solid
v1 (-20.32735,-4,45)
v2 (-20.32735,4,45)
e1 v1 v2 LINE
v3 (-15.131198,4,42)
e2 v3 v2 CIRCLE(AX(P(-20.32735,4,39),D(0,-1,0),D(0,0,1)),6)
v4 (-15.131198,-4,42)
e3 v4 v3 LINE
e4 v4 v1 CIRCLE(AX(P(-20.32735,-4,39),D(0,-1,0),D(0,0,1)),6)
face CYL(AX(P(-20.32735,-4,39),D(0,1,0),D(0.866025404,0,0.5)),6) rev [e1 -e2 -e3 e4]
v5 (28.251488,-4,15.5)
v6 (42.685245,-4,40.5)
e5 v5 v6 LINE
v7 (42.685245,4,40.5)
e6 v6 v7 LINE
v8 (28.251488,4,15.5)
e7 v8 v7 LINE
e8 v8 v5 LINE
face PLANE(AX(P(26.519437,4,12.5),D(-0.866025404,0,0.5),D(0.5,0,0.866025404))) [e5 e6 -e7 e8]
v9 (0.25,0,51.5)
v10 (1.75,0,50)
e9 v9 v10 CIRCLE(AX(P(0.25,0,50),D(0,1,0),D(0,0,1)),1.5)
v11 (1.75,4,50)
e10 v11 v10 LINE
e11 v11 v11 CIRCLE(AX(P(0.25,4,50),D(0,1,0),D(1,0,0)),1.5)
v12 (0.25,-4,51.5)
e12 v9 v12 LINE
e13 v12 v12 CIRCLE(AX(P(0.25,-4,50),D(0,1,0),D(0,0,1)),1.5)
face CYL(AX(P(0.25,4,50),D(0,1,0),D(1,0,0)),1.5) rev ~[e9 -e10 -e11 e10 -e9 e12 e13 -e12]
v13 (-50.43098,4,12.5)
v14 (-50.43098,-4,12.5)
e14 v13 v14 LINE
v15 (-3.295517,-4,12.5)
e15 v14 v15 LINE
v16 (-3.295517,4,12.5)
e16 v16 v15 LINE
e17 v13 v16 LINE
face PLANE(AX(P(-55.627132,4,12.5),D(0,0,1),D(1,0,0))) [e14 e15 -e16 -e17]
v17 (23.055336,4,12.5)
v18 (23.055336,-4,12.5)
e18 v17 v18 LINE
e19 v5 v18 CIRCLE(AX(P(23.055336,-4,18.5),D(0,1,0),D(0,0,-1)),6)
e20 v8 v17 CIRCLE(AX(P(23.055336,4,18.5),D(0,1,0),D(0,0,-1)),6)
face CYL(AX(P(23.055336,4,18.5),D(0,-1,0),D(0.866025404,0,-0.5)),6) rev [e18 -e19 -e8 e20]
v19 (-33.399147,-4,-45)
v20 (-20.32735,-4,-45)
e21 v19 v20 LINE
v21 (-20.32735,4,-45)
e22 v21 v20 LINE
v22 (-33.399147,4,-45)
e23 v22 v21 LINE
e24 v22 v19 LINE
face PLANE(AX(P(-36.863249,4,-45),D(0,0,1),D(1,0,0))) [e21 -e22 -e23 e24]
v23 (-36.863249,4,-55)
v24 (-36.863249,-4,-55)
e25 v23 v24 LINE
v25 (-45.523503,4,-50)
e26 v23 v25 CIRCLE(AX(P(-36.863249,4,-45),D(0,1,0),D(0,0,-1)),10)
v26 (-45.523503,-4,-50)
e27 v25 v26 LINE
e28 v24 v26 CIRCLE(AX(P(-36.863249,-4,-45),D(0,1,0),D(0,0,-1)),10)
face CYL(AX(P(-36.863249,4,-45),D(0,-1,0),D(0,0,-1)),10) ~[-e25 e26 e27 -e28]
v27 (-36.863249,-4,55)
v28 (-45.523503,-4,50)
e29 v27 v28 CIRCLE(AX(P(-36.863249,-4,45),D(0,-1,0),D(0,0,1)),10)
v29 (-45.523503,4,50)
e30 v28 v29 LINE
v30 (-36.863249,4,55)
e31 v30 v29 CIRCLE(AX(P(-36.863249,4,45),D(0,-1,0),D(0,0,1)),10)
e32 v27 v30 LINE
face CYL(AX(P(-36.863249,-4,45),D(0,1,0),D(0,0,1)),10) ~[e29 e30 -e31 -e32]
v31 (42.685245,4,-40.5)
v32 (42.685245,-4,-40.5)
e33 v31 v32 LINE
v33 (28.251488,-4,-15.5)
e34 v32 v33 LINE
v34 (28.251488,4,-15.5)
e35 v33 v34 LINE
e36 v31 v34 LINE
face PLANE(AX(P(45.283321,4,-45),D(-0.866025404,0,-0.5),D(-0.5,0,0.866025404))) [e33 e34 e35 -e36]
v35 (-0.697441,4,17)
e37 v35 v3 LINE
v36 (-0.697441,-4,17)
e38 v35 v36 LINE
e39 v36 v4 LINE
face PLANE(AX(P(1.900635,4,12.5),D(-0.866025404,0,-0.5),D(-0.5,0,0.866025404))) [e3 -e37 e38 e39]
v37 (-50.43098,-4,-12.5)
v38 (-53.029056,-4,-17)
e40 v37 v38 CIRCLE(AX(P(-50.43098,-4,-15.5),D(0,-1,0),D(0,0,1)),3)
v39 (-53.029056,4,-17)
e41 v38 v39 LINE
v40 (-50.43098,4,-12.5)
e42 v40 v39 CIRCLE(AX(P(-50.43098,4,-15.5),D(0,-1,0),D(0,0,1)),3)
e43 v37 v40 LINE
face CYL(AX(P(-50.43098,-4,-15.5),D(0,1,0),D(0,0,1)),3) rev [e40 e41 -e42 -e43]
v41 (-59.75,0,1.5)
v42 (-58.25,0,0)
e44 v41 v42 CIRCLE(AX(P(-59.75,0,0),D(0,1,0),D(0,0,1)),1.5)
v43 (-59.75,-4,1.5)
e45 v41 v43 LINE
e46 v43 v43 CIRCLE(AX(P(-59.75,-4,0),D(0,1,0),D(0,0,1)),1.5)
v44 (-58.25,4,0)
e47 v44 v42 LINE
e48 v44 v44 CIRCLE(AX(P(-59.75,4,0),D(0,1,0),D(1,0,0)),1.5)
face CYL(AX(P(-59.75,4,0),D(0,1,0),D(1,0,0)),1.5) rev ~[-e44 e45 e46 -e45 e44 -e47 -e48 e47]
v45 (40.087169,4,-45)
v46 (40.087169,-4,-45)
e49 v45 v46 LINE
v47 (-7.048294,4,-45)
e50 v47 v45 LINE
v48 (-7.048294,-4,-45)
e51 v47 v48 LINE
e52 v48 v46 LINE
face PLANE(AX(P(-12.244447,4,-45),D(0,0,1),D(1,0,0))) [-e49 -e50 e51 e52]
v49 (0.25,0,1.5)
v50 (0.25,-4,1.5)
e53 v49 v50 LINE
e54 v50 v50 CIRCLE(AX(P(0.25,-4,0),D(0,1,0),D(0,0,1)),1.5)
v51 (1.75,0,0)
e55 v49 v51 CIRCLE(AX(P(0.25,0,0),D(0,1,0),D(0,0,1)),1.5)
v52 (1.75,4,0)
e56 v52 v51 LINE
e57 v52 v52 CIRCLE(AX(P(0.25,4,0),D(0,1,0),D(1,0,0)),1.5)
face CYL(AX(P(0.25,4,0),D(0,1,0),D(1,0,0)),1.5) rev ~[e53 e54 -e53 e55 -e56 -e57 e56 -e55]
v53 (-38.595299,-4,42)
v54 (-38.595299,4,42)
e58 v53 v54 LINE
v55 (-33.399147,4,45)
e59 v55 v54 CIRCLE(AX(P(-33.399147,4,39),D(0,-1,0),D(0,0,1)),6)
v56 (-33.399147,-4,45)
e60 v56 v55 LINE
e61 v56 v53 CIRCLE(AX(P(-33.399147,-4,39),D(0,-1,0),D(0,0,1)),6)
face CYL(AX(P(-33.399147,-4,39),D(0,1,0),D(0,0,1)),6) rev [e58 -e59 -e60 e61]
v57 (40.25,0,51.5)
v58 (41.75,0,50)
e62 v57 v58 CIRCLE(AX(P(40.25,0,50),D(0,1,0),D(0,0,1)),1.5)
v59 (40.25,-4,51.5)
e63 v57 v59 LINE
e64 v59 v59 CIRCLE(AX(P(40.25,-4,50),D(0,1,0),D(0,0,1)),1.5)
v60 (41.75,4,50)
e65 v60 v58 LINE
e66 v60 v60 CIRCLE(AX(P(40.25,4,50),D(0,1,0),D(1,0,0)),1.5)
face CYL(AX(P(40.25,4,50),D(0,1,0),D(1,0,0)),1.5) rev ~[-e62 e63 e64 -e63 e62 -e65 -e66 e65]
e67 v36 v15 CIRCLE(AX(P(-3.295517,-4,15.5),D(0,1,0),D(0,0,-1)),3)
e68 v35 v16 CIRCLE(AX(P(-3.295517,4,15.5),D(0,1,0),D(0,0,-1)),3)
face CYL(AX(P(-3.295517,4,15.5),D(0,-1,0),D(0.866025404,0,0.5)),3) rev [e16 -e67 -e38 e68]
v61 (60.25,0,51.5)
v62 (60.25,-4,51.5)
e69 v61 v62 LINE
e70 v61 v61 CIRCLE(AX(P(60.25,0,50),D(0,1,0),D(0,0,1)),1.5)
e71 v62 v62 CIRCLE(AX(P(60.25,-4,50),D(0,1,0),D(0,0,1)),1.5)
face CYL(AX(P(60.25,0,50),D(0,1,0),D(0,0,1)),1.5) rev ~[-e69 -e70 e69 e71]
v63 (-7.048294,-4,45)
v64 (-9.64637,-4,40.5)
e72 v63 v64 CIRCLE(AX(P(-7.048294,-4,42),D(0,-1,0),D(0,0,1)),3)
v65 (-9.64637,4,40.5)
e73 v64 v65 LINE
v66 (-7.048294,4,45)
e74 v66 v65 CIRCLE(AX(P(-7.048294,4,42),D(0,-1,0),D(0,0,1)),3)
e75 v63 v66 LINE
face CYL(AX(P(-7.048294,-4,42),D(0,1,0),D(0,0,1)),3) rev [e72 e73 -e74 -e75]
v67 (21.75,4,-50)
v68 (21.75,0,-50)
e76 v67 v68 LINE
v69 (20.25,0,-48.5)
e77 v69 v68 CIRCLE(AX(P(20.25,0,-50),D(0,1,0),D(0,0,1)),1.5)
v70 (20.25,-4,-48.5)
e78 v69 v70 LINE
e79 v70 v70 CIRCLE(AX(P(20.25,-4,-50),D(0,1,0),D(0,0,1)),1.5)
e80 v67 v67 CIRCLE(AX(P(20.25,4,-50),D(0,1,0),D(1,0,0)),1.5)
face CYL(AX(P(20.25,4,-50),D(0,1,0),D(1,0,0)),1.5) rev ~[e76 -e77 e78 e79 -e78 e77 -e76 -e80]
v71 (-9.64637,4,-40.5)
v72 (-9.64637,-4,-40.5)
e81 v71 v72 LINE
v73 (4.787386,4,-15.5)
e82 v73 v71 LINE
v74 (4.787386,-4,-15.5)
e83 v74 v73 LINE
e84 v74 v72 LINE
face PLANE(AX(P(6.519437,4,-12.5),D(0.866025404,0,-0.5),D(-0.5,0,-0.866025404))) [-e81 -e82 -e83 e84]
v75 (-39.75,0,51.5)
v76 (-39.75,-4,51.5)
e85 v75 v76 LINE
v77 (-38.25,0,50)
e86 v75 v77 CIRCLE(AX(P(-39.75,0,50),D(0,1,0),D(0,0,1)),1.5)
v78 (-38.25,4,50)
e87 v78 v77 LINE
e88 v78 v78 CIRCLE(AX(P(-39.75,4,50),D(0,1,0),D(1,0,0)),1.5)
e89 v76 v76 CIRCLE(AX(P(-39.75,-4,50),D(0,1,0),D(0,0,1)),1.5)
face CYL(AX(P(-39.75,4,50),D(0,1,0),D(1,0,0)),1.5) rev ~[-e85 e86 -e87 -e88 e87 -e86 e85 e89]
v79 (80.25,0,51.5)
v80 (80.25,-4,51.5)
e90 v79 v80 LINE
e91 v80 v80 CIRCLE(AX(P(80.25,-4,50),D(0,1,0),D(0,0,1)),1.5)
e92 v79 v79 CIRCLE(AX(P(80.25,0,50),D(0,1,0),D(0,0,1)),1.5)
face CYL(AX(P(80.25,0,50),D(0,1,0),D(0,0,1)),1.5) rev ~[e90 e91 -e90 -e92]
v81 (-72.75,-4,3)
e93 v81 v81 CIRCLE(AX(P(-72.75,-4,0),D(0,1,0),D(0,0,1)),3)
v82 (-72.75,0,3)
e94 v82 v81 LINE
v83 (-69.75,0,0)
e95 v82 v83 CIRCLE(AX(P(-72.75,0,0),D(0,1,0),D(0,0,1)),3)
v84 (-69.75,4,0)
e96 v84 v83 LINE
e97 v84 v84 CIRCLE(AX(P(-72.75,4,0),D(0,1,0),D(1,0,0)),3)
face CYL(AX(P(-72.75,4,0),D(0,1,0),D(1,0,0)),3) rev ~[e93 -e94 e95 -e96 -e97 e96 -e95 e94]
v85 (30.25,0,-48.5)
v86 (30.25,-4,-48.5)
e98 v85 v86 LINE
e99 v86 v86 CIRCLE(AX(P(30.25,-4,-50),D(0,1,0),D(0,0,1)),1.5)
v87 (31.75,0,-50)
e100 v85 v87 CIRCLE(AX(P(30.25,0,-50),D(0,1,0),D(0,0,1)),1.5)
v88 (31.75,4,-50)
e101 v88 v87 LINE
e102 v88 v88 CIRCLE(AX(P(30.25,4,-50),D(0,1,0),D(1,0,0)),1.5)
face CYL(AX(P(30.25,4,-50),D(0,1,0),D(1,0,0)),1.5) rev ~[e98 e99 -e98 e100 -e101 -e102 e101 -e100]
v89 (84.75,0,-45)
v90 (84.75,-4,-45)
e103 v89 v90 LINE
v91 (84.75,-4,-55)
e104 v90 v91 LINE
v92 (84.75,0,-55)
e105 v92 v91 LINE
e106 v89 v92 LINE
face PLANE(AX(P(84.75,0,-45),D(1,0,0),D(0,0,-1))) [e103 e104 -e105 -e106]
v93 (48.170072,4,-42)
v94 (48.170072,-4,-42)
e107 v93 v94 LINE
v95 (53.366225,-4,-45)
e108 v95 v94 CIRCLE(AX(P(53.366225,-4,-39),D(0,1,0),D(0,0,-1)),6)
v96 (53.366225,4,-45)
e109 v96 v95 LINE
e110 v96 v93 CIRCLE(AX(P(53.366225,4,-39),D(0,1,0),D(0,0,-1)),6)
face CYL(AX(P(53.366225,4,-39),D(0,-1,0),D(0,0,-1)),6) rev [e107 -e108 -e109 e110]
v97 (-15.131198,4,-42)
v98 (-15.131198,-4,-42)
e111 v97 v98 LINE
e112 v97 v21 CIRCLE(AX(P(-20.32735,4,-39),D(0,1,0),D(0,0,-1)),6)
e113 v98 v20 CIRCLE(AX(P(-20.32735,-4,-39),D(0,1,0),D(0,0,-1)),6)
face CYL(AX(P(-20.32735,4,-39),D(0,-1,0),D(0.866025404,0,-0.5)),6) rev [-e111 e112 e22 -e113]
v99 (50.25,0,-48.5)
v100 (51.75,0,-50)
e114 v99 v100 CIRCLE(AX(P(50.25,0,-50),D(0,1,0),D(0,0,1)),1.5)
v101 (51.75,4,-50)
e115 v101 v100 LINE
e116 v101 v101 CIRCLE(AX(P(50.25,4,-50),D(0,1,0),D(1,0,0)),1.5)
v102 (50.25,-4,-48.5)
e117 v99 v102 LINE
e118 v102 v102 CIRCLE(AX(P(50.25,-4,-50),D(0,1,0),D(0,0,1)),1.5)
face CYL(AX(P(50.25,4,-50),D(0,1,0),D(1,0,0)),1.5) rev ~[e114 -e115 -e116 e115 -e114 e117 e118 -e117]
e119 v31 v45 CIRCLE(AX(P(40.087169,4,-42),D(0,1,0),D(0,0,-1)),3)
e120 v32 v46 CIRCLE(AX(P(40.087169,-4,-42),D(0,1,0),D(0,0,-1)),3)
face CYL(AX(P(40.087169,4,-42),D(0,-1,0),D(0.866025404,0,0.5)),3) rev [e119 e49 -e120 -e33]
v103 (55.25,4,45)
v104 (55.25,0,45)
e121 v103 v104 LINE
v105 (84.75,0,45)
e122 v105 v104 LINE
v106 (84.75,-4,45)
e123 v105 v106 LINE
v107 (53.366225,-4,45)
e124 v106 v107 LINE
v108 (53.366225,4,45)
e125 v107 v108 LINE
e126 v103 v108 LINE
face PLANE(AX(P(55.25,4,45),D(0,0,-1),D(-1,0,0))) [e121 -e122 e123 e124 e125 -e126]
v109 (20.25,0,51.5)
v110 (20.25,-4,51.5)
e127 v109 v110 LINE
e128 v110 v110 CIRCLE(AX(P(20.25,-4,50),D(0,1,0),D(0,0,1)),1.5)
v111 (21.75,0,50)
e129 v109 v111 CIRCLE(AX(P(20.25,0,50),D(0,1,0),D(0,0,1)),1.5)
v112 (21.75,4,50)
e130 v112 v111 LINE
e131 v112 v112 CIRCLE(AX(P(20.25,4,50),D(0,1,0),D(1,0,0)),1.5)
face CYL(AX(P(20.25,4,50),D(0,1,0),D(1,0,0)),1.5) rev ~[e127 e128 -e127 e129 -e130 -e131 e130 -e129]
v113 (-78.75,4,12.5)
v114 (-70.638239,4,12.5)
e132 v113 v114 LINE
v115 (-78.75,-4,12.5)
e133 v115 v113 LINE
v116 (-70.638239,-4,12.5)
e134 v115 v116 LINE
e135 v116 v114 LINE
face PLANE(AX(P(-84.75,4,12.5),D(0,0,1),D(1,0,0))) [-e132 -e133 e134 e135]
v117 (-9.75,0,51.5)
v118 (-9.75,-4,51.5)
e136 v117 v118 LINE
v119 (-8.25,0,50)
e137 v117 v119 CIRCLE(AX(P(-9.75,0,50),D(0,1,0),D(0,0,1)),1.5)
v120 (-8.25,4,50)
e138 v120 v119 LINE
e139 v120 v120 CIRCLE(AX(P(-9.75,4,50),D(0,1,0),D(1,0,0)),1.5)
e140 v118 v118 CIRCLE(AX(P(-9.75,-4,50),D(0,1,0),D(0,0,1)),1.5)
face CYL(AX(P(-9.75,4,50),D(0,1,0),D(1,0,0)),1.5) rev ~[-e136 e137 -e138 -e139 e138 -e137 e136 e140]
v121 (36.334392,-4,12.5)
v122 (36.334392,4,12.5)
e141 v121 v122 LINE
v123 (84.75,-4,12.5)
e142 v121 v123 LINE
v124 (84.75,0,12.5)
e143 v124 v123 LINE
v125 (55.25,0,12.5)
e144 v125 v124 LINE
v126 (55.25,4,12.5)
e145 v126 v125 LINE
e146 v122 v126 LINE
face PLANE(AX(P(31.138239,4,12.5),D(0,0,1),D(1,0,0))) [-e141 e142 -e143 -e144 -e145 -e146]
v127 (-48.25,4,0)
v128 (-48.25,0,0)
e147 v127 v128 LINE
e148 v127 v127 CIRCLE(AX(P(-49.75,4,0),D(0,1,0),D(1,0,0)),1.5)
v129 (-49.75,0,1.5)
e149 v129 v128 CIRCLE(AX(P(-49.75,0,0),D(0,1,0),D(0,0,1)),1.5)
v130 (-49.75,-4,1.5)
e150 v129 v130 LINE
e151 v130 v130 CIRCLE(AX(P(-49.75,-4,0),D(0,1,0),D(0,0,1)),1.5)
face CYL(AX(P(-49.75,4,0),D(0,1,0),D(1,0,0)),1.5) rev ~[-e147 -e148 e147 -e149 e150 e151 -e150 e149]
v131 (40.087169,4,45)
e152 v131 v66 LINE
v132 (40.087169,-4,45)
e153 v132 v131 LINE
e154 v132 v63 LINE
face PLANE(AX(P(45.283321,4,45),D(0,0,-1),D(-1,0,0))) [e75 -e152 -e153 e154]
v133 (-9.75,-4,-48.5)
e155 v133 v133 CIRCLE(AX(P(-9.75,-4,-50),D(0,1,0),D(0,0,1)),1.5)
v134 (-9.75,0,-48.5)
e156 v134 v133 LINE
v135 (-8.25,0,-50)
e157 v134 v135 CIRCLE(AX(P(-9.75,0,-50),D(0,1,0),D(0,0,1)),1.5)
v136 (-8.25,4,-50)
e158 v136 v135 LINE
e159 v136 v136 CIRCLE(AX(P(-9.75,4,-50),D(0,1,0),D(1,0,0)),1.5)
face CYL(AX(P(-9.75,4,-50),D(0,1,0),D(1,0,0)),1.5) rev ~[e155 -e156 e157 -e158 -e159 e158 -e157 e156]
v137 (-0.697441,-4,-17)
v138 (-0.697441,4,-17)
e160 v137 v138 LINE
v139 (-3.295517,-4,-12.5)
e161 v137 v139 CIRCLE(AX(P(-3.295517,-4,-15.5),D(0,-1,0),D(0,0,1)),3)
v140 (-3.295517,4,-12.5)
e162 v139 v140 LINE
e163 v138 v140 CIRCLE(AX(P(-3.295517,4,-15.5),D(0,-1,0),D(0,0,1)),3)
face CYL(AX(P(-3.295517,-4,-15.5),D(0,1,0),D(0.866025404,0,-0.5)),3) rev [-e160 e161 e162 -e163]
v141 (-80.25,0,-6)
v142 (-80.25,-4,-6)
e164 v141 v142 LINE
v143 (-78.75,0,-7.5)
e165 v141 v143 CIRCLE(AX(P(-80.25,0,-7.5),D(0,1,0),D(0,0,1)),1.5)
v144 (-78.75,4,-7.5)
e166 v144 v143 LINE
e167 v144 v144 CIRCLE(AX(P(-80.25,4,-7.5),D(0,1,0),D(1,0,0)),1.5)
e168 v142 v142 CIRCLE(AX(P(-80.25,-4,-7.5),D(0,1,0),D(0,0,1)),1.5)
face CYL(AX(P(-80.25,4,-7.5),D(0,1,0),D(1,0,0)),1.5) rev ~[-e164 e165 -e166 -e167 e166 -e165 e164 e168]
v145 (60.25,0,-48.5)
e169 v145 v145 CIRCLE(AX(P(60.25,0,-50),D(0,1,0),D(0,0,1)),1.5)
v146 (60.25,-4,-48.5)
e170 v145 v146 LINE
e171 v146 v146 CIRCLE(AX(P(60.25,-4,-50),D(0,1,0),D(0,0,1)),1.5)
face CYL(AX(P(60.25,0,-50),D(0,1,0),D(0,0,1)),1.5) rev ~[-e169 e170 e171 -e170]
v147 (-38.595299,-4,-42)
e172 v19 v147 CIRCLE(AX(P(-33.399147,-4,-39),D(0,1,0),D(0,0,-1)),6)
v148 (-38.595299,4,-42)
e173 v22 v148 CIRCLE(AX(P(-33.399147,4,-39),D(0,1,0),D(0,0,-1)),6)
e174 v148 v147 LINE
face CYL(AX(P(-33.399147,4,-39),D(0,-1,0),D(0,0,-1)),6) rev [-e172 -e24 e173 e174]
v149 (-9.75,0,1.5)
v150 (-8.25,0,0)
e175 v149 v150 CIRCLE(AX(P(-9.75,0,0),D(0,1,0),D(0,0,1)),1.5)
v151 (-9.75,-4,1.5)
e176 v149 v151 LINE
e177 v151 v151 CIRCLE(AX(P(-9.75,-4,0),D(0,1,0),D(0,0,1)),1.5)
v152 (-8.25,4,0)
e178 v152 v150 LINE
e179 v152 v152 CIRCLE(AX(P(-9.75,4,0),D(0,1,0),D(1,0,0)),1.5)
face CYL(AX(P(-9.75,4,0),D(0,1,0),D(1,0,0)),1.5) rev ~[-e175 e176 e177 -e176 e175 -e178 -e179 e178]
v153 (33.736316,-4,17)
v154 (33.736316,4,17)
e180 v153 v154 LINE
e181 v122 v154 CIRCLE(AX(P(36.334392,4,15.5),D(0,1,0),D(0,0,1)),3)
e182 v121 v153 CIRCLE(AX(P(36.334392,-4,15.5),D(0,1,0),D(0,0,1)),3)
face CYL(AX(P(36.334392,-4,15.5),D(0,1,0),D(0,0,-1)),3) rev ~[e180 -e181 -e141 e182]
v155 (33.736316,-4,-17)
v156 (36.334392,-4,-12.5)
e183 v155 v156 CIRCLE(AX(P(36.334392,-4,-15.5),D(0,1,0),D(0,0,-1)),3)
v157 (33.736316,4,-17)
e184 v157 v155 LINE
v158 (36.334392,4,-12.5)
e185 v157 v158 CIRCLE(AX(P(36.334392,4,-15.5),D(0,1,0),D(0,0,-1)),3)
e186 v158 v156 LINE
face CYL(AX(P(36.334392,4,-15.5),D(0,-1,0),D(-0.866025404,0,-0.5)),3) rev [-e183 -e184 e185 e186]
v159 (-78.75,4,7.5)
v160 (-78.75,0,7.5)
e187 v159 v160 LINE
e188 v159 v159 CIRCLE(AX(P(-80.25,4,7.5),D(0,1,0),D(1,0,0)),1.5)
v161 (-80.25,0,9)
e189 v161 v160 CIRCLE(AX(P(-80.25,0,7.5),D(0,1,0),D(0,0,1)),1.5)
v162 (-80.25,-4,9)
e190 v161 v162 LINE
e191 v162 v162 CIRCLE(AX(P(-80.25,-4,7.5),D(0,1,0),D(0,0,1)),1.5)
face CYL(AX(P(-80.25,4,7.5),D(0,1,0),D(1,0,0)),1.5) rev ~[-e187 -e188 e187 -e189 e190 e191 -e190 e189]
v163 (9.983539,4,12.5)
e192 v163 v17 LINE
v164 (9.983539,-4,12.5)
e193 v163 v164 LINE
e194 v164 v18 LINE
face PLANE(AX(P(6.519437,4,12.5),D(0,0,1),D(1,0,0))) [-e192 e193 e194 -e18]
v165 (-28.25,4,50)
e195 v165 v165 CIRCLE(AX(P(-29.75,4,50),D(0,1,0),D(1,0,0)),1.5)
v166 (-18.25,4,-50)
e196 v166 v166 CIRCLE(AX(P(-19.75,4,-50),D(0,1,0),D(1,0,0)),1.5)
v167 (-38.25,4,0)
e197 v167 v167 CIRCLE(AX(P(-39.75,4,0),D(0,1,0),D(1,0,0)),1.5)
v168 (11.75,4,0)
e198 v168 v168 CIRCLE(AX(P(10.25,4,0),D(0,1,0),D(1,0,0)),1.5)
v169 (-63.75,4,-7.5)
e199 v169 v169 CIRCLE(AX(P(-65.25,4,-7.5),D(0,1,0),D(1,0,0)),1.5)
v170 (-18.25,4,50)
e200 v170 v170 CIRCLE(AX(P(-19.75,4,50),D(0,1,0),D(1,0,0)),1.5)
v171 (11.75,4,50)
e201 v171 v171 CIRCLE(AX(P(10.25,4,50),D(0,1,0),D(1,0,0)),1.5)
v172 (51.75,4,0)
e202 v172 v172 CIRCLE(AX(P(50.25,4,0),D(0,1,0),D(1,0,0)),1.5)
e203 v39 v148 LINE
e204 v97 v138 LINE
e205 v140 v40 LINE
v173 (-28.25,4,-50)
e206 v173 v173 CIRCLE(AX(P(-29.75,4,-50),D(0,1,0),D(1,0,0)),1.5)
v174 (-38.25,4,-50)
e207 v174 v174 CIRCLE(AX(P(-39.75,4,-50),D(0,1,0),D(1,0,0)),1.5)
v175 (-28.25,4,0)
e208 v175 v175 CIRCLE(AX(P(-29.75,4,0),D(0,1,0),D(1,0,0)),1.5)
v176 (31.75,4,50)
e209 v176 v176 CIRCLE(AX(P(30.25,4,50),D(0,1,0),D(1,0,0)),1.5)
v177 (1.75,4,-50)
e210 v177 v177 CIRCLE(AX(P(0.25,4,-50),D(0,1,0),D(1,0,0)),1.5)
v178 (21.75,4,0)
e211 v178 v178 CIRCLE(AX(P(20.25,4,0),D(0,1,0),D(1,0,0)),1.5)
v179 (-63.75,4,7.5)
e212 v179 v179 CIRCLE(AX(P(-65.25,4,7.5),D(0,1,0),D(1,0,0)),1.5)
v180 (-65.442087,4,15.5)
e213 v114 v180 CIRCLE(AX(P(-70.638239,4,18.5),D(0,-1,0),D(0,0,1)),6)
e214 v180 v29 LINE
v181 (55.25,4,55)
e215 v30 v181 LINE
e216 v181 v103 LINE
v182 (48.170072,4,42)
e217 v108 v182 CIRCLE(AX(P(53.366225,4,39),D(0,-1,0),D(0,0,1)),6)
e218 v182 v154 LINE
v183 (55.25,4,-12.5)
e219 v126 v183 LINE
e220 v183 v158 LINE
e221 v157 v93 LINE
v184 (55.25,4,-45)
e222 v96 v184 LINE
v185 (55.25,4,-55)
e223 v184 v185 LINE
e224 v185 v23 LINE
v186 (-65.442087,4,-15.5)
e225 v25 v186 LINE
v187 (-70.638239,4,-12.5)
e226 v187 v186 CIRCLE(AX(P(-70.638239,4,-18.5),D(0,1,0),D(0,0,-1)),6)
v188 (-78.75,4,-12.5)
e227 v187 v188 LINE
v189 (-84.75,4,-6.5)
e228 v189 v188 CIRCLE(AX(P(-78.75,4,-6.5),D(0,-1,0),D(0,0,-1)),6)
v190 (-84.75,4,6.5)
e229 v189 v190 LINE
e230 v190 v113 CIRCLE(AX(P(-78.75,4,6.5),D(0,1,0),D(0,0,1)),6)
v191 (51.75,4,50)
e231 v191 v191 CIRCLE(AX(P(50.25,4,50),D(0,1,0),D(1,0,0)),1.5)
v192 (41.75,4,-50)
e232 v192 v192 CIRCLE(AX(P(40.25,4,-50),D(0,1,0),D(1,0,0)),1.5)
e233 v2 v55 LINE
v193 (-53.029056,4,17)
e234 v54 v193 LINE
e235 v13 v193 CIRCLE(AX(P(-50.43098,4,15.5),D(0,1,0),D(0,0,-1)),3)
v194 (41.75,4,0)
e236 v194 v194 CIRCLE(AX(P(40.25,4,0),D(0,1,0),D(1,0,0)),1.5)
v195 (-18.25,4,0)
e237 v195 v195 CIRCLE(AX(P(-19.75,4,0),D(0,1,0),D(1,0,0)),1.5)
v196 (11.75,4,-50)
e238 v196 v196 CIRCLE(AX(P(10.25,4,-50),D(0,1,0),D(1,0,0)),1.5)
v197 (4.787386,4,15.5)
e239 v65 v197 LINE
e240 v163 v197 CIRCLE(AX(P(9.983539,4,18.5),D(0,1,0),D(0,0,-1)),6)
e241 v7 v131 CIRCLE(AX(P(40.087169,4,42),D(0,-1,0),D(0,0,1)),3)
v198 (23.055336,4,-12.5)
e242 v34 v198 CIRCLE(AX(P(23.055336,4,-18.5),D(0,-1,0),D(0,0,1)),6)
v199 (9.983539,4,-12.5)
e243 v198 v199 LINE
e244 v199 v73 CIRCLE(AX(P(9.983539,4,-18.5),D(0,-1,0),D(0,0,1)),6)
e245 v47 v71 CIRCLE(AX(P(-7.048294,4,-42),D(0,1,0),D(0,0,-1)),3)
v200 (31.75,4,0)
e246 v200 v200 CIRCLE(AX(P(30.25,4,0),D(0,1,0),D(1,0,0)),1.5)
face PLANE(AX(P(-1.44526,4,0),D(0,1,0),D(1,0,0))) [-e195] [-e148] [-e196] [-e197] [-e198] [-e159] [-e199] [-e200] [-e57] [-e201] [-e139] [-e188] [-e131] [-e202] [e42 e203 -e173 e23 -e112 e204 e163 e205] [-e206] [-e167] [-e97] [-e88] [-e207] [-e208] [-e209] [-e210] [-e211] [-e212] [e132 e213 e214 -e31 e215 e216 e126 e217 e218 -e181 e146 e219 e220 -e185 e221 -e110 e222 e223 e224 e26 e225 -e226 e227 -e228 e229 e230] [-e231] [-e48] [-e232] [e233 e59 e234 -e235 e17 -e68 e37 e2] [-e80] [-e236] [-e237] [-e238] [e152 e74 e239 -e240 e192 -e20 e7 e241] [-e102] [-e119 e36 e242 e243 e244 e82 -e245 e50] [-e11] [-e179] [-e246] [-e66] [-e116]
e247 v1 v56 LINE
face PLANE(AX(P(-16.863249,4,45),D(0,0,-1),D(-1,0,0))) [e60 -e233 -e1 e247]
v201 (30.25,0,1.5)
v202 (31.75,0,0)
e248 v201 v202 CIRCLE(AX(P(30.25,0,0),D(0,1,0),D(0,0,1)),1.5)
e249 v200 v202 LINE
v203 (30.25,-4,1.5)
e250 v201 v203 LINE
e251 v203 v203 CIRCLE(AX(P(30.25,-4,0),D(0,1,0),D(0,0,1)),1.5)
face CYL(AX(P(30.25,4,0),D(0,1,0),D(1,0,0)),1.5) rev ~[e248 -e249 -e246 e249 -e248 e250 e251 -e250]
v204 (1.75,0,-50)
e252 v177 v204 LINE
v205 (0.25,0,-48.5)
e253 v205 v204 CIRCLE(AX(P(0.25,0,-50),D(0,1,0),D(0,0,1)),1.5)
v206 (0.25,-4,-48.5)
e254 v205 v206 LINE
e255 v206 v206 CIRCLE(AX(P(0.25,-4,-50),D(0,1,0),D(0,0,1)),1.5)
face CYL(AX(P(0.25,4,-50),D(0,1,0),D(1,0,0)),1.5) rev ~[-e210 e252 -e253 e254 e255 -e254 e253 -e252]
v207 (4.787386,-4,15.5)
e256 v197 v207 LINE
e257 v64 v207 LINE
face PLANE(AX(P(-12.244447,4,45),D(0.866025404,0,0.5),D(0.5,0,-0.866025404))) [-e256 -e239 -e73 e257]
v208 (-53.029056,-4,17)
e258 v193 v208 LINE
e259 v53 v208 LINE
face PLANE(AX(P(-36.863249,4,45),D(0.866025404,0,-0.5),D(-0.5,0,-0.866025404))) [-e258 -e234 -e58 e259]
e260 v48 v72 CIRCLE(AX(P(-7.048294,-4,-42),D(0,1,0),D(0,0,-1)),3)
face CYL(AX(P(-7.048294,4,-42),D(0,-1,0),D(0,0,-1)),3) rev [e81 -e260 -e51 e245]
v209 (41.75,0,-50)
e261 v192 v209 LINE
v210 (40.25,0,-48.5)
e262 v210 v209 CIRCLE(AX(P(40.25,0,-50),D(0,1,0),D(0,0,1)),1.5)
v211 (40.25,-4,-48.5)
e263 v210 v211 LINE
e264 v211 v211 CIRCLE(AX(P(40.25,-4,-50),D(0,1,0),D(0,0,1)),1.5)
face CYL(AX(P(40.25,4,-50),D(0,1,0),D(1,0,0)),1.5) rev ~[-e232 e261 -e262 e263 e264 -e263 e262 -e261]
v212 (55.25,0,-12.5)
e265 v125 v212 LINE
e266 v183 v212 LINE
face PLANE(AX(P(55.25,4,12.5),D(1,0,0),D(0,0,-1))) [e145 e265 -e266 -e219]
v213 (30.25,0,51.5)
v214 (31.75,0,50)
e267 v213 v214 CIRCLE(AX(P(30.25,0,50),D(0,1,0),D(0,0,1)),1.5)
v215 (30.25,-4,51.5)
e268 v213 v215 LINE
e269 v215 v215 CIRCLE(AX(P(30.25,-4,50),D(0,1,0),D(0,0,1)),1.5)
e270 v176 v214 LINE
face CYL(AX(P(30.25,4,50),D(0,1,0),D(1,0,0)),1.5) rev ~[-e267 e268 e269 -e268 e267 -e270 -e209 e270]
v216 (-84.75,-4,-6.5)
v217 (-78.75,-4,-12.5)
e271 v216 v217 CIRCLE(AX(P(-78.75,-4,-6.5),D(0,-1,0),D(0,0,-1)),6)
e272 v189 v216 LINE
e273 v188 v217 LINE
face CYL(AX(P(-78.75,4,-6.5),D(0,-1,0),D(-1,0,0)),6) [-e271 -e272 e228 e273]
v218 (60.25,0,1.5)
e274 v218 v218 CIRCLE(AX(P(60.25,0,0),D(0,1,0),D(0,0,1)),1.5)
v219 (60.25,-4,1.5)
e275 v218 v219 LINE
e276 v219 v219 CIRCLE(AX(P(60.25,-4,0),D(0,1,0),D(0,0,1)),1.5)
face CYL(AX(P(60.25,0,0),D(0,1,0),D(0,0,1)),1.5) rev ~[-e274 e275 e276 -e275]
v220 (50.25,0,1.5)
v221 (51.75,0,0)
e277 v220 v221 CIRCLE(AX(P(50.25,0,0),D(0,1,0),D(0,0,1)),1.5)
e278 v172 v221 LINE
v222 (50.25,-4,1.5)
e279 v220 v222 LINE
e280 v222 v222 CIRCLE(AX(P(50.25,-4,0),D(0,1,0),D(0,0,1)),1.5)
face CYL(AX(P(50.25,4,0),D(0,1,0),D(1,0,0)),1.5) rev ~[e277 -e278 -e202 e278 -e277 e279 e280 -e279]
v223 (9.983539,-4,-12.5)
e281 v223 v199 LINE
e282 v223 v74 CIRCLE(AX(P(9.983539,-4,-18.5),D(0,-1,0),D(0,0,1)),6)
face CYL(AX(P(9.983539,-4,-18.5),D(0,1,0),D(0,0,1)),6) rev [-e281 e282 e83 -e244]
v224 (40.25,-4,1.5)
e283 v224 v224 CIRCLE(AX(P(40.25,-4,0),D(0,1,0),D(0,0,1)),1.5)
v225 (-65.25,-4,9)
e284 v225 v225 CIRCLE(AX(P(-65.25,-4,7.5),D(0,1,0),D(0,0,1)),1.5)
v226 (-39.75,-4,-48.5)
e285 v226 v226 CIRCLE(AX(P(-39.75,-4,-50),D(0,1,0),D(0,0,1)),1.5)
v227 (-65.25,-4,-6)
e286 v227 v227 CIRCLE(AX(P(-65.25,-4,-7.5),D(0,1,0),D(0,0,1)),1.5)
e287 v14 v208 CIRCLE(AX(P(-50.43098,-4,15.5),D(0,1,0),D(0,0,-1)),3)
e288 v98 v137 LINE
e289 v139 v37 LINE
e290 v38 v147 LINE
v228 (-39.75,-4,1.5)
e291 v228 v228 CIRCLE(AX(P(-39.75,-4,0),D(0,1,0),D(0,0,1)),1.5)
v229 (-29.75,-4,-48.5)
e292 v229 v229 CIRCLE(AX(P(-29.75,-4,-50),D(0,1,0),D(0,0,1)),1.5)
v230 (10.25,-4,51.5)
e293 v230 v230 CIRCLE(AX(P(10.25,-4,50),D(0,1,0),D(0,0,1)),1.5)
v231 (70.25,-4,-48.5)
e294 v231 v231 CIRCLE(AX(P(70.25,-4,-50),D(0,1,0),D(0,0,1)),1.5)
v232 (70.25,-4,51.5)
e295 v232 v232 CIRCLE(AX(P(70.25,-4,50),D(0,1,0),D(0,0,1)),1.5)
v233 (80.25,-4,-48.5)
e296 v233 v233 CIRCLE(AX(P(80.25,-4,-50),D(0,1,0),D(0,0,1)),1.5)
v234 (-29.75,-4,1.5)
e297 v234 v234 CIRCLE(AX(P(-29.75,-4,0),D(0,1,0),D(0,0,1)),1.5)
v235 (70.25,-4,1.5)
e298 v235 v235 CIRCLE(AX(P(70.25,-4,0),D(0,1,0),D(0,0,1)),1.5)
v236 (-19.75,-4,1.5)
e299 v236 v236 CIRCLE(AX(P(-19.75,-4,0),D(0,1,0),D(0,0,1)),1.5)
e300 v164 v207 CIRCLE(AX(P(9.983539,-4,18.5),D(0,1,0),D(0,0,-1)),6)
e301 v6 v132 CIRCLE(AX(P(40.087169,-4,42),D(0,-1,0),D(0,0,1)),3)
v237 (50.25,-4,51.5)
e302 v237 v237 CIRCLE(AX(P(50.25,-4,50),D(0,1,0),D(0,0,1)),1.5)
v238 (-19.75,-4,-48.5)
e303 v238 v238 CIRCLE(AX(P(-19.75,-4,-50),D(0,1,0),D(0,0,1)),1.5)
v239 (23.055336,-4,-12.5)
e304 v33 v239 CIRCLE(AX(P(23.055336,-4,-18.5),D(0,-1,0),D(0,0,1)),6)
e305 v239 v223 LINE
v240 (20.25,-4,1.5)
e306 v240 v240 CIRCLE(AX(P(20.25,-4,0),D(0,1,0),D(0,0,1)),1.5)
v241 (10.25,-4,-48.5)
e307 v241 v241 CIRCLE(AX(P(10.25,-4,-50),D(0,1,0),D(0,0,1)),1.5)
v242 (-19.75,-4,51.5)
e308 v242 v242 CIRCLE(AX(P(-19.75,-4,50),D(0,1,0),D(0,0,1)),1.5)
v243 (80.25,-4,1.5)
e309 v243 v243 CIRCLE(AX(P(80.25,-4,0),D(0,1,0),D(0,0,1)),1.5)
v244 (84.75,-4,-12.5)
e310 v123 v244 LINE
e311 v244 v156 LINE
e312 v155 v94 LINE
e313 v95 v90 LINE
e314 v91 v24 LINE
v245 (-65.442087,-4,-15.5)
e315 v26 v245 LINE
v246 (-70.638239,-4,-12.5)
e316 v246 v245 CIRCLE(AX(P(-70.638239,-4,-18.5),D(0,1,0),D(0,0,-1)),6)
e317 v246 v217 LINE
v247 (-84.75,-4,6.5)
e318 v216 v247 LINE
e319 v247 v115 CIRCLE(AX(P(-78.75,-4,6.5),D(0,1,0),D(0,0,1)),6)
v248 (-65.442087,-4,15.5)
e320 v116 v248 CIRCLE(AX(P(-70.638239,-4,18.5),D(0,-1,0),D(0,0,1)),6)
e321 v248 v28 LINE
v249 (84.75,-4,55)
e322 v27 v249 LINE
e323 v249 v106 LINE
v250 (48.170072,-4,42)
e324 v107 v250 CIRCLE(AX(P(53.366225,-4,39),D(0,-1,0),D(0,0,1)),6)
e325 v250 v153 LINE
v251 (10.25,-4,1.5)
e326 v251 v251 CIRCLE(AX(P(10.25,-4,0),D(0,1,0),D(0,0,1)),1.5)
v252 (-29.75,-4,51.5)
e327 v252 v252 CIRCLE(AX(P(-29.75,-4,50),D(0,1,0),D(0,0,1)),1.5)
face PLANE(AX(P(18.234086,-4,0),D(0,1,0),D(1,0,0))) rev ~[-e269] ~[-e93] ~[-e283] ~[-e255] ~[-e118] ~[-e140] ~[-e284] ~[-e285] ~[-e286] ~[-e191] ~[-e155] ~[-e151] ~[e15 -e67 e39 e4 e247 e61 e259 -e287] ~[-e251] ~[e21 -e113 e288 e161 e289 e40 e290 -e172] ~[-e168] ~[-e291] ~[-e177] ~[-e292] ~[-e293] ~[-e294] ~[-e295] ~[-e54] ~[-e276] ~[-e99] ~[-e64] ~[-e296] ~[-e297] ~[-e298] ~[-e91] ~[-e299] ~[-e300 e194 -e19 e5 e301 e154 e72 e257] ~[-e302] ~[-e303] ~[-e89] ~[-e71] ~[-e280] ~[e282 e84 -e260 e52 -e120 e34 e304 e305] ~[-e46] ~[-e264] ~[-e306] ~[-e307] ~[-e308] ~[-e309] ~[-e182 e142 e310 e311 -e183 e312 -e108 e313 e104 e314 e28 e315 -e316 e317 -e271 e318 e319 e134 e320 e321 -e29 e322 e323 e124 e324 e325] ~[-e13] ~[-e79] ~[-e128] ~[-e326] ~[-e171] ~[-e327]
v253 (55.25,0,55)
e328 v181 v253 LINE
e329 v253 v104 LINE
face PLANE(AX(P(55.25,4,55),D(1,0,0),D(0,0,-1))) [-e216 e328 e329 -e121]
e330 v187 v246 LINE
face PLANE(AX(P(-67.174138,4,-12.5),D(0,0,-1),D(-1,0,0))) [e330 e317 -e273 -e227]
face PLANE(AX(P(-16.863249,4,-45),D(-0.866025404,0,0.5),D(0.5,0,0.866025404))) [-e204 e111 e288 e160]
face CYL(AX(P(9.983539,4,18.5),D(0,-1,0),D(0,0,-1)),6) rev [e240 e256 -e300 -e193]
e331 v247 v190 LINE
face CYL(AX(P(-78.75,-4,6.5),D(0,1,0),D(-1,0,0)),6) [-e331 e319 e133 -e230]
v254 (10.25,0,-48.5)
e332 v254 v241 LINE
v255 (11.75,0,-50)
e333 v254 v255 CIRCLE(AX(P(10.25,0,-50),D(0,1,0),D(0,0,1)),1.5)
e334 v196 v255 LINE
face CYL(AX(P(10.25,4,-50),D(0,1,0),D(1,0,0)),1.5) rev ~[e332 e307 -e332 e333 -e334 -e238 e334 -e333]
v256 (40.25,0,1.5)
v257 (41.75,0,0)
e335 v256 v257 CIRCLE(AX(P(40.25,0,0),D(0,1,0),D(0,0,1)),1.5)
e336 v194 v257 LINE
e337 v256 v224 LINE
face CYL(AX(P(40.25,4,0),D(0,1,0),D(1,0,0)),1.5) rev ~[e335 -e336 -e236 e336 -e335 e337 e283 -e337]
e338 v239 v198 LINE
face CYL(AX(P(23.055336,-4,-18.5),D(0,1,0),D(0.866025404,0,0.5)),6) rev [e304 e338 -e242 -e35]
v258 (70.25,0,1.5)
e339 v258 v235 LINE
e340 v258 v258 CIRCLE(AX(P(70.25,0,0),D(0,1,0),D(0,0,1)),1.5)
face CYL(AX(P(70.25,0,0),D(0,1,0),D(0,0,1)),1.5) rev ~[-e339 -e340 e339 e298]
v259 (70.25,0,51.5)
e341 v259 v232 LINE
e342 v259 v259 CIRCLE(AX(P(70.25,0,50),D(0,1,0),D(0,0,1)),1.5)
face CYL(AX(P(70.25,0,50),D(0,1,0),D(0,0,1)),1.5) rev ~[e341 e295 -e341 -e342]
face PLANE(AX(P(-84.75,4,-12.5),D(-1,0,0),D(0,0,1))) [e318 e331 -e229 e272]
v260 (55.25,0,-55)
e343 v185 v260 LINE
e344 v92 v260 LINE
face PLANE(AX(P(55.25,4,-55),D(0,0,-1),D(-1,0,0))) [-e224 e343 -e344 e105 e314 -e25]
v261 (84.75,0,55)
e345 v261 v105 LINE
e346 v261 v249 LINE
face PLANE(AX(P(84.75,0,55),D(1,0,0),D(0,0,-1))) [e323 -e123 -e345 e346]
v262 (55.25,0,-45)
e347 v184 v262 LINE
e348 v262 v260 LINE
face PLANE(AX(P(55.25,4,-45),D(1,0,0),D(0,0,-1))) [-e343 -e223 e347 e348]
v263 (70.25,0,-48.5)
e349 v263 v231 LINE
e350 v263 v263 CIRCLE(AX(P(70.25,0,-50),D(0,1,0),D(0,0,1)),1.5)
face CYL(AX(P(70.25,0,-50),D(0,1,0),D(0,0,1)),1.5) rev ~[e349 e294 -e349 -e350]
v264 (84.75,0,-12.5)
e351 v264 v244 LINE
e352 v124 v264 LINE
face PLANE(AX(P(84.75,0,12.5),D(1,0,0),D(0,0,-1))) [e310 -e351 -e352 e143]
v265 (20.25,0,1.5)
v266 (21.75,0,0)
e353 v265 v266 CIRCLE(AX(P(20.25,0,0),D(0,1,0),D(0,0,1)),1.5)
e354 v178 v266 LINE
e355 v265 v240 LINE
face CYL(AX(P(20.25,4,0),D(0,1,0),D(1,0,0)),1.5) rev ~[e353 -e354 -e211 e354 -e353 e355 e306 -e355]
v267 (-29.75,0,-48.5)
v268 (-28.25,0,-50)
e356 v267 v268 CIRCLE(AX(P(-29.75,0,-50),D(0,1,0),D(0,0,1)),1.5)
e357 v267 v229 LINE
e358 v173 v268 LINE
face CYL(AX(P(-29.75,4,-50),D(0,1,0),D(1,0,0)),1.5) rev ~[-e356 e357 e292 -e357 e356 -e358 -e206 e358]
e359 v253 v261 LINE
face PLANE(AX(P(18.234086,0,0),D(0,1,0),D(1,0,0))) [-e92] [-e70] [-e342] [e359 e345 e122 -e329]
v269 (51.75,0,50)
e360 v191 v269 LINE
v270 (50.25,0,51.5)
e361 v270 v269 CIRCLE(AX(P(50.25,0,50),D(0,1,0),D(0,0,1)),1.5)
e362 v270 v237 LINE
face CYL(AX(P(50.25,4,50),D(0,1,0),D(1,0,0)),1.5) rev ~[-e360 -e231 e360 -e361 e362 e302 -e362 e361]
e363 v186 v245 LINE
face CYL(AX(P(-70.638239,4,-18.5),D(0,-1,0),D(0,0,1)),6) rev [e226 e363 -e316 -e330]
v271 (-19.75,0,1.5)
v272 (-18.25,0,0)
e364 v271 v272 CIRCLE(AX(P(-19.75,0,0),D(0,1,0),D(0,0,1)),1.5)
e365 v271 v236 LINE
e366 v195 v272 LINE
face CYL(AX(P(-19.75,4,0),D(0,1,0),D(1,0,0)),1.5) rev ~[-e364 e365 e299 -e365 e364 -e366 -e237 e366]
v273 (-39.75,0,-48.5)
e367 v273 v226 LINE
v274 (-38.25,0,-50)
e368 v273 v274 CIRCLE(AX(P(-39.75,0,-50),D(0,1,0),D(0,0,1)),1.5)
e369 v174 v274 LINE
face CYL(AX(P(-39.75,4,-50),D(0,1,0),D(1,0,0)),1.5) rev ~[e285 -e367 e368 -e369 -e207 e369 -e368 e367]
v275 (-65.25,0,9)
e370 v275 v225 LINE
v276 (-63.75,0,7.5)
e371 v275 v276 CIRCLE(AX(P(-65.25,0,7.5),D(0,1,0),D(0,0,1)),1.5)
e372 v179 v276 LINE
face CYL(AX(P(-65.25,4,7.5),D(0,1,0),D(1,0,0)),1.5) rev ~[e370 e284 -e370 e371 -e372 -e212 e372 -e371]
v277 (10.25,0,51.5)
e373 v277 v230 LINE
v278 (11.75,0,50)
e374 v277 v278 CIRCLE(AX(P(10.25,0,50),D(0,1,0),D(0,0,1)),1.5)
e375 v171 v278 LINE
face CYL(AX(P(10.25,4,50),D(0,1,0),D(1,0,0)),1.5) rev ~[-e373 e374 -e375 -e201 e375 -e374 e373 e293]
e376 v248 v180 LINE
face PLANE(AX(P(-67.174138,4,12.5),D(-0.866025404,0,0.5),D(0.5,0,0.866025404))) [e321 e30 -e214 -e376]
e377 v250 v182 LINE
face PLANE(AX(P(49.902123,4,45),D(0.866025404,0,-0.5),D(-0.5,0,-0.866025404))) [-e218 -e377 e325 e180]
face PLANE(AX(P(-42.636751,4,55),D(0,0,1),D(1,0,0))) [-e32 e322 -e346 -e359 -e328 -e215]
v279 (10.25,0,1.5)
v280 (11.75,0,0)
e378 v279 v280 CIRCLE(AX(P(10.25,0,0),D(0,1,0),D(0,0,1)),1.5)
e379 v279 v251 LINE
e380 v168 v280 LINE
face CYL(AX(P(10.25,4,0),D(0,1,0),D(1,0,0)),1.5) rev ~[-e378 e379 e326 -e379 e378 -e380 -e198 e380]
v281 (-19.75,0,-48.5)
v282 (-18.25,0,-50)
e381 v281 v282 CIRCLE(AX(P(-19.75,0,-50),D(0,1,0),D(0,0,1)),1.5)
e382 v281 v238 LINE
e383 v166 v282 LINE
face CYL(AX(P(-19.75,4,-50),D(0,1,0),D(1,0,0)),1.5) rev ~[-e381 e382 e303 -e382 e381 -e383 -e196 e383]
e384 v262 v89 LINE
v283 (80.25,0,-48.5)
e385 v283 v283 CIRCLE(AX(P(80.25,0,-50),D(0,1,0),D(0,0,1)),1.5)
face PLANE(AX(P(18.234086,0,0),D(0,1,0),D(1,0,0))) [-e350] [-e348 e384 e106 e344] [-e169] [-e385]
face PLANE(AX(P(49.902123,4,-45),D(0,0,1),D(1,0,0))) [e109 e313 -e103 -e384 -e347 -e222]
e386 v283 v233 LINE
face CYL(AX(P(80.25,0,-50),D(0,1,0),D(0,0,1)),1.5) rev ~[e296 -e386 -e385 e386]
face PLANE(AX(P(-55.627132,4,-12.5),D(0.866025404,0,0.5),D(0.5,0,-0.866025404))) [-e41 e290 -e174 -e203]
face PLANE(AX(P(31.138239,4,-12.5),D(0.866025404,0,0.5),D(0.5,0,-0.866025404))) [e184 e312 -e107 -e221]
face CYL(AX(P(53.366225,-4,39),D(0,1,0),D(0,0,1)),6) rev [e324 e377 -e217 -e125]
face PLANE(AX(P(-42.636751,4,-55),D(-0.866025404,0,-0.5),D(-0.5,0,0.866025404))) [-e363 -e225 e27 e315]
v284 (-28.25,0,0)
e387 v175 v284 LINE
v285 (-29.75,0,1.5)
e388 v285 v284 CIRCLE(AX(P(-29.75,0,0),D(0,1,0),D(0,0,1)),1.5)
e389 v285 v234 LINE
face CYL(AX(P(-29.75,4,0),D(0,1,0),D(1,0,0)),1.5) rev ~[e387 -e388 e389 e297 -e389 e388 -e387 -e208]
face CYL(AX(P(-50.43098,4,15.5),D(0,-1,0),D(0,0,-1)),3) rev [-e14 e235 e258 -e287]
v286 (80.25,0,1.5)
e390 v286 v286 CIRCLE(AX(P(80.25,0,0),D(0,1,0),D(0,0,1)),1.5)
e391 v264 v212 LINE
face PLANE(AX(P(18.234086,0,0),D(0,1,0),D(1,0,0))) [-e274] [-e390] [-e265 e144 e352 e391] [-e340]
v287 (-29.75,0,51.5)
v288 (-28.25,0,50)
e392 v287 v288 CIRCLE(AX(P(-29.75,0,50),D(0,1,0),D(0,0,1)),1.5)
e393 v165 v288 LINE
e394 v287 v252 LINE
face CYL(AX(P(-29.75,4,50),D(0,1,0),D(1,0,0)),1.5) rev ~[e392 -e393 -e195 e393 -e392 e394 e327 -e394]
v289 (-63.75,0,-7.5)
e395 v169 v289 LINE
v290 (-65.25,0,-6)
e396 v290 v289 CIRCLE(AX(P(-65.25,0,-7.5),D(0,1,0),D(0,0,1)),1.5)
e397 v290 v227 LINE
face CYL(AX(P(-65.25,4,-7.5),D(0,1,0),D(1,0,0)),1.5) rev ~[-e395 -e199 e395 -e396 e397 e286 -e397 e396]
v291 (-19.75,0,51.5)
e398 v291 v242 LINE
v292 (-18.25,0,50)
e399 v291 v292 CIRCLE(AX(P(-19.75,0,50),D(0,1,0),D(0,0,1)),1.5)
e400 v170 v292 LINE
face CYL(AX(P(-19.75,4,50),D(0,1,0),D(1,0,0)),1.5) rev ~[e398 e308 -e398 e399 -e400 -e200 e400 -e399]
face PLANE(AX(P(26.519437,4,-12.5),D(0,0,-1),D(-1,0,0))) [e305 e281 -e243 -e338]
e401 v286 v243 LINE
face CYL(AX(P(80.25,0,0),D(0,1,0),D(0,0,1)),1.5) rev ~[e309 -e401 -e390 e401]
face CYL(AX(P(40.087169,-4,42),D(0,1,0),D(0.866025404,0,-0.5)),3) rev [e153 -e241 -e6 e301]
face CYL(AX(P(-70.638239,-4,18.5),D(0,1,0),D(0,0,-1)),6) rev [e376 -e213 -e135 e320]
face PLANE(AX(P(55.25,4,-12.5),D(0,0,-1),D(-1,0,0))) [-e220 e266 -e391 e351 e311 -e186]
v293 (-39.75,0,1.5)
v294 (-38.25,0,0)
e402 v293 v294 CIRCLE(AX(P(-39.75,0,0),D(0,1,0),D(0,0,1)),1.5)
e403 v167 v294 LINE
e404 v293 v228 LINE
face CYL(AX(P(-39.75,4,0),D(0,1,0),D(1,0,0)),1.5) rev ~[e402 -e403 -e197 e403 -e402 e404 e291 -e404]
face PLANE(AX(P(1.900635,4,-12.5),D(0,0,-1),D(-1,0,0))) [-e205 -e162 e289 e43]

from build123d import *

# Parameters (mm, degrees)
SKETCH1_R           = 1.5
SKETCH1_R_2         = 3
BOSS_EXTRUDE1_DEPTH = 4
BOSS_EXTRUDE2_START = 4
SKETCH1_4_R         = 1.5
SKETCH1_4_R_2       = 3
BOSS_EXTRUDE2_DEPTH = 4
FILLET1_R           = 6
FILLET2_R           = 6
FILLET3_R           = 3
FILLET4_R           = 10


with BuildPart() as part:
    # Sketch1 → Boss-Extrude1 (new body)
    with BuildSketch(Plane(origin=(0, 0, 0), x_dir=(1, 0, 0), z_dir=(0, 1, 0))):
        Polygon((-84.75, 12.5), (-84.75, -12.5), (-67.174137787, -12.5), (-42.636751346, -55), (84.75, -55), (84.75, -45), (49.90212315, -45), (31.138239402, -12.5), (84.75, -12.5), (84.75, 12.5), (31.138239402, 12.5), (49.90212315, 45), (84.75, 45), (84.75, 55), (-42.636751346, 55), (-67.174137787, 12.5), align=None)
        Polygon((1.900635095, 12.5), (-55.627132403, 12.5), (-36.863248654, 45), (-16.863248654, 45), align=None, mode=Mode.SUBTRACT)
        Polygon((26.519437248, 12.5), (6.519437248, 12.5), (-12.244446501, 45), (45.283320997, 45), align=None, mode=Mode.SUBTRACT)
        Polygon((6.519437248, -12.5), (26.519437248, -12.5), (45.283320997, -45), (-12.244446501, -45), align=None, mode=Mode.SUBTRACT)
        Polygon((-55.627132403, -12.5), (1.900635095, -12.5), (-16.863248654, -45), (-36.863248654, -45), align=None, mode=Mode.SUBTRACT)
        with Locations((-80.25, -7.5)):
            Circle(SKETCH1_R, mode=Mode.SUBTRACT)
        with Locations((-65.25, -7.5)):
            Circle(SKETCH1_R, mode=Mode.SUBTRACT)
        with Locations((-59.75, 0)):
            Circle(SKETCH1_R, mode=Mode.SUBTRACT)
        with Locations((-49.75, 0)):
            Circle(SKETCH1_R, mode=Mode.SUBTRACT)
        with Locations((-39.75, 0)):
            Circle(SKETCH1_R, mode=Mode.SUBTRACT)
        with Locations((-29.75, 0)):
            Circle(SKETCH1_R, mode=Mode.SUBTRACT)
        with Locations((-19.75, 0)):
            Circle(SKETCH1_R, mode=Mode.SUBTRACT)
        with Locations((-9.75, 0)):
            Circle(SKETCH1_R, mode=Mode.SUBTRACT)
        with Locations((0.25, 0)):
            Circle(SKETCH1_R, mode=Mode.SUBTRACT)
        with Locations((10.25, 0)):
            Circle(SKETCH1_R, mode=Mode.SUBTRACT)
        with Locations((20.25, 0)):
            Circle(SKETCH1_R, mode=Mode.SUBTRACT)
        with Locations((30.25, 0)):
            Circle(SKETCH1_R, mode=Mode.SUBTRACT)
        with Locations((40.25, 0)):
            Circle(SKETCH1_R, mode=Mode.SUBTRACT)
        with Locations((50.25, 0)):
            Circle(SKETCH1_R, mode=Mode.SUBTRACT)
        with Locations((-72.75, 0)):
            Circle(SKETCH1_R_2, mode=Mode.SUBTRACT)
        with Locations((-80.25, 7.5)):
            Circle(SKETCH1_R, mode=Mode.SUBTRACT)
        with Locations((-65.25, 7.5)):
            Circle(SKETCH1_R, mode=Mode.SUBTRACT)
        with Locations((50.25, 50)):
            Circle(SKETCH1_R, mode=Mode.SUBTRACT)
        with Locations((-39.75, 50)):
            Circle(SKETCH1_R, mode=Mode.SUBTRACT)
        with Locations((-29.75, 50)):
            Circle(SKETCH1_R, mode=Mode.SUBTRACT)
        with Locations((-19.75, 50)):
            Circle(SKETCH1_R, mode=Mode.SUBTRACT)
        with Locations((-9.75, 50)):
            Circle(SKETCH1_R, mode=Mode.SUBTRACT)
        with Locations((0.25, 50)):
            Circle(SKETCH1_R, mode=Mode.SUBTRACT)
        with Locations((10.25, 50)):
            Circle(SKETCH1_R, mode=Mode.SUBTRACT)
        with Locations((20.25, 50)):
            Circle(SKETCH1_R, mode=Mode.SUBTRACT)
        with Locations((30.25, 50)):
            Circle(SKETCH1_R, mode=Mode.SUBTRACT)
        with Locations((40.25, 50)):
            Circle(SKETCH1_R, mode=Mode.SUBTRACT)
        with Locations((80.25, 0)):
            Circle(SKETCH1_R, mode=Mode.SUBTRACT)
        with Locations((60.25, 0)):
            Circle(SKETCH1_R, mode=Mode.SUBTRACT)
        with Locations((70.25, 0)):
            Circle(SKETCH1_R, mode=Mode.SUBTRACT)
        with Locations((50.25, -50)):
            Circle(SKETCH1_R, mode=Mode.SUBTRACT)
        with Locations((30.25, -50)):
            Circle(SKETCH1_R, mode=Mode.SUBTRACT)
        with Locations((40.25, -50)):
            Circle(SKETCH1_R, mode=Mode.SUBTRACT)
        with Locations((-39.75, -50)):
            Circle(SKETCH1_R, mode=Mode.SUBTRACT)
        with Locations((-29.75, -50)):
            Circle(SKETCH1_R, mode=Mode.SUBTRACT)
        with Locations((-19.75, -50)):
            Circle(SKETCH1_R, mode=Mode.SUBTRACT)
        with Locations((-9.75, -50)):
            Circle(SKETCH1_R, mode=Mode.SUBTRACT)
        with Locations((0.25, -50)):
            Circle(SKETCH1_R, mode=Mode.SUBTRACT)
        with Locations((10.25, -50)):
            Circle(SKETCH1_R, mode=Mode.SUBTRACT)
        with Locations((20.25, -50)):
            Circle(SKETCH1_R, mode=Mode.SUBTRACT)
        with Locations((80.25, 50)):
            Circle(SKETCH1_R, mode=Mode.SUBTRACT)
        with Locations((60.25, 50)):
            Circle(SKETCH1_R, mode=Mode.SUBTRACT)
        with Locations((70.25, 50)):
            Circle(SKETCH1_R, mode=Mode.SUBTRACT)
        with Locations((80.25, -50)):
            Circle(SKETCH1_R, mode=Mode.SUBTRACT)
        with Locations((60.25, -50)):
            Circle(SKETCH1_R, mode=Mode.SUBTRACT)
        with Locations((70.25, -50)):
            Circle(SKETCH1_R, mode=Mode.SUBTRACT)
    extrude(amount=-BOSS_EXTRUDE1_DEPTH)

    # Sketch1<4> → Boss-Extrude2 (add)
    with BuildSketch(Plane(origin=(0, 0, 0), x_dir=(1, 0, 0), z_dir=(0, 1, 0)).offset(BOSS_EXTRUDE2_START)):
        Polygon((-84.75, 12.5), (-84.75, -12.5), (-67.174137787, -12.5), (-42.636751346, -55), (55.25, -55), (55.25, -45), (49.90212315, -45), (31.138239402, -12.5), (55.25, -12.5), (55.25, 12.5), (31.138239402, 12.5), (49.90212315, 45), (55.25, 45), (55.25, 55), (-42.636751346, 55), (-67.174137787, 12.5), align=None)
        Polygon((1.900635095, 12.5), (-55.627132403, 12.5), (-36.863248654, 45), (-16.863248654, 45), align=None, mode=Mode.SUBTRACT)
        Polygon((26.519437248, 12.5), (6.519437248, 12.5), (-12.244446501, 45), (45.283320997, 45), align=None, mode=Mode.SUBTRACT)
        Polygon((6.519437248, -12.5), (26.519437248, -12.5), (45.283320997, -45), (-12.244446501, -45), align=None, mode=Mode.SUBTRACT)
        Polygon((-55.627132403, -12.5), (1.900635095, -12.5), (-16.863248654, -45), (-36.863248654, -45), align=None, mode=Mode.SUBTRACT)
        with Locations((-80.25, -7.5)):
            Circle(SKETCH1_4_R, mode=Mode.SUBTRACT)
        with Locations((-65.25, -7.5)):
            Circle(SKETCH1_4_R, mode=Mode.SUBTRACT)
        with Locations((-59.75, 0)):
            Circle(SKETCH1_4_R, mode=Mode.SUBTRACT)
        with Locations((-49.75, 0)):
            Circle(SKETCH1_4_R, mode=Mode.SUBTRACT)
        with Locations((-39.75, 0)):
            Circle(SKETCH1_4_R, mode=Mode.SUBTRACT)
        with Locations((-29.75, 0)):
            Circle(SKETCH1_4_R, mode=Mode.SUBTRACT)
        with Locations((-19.75, 0)):
            Circle(SKETCH1_4_R, mode=Mode.SUBTRACT)
        with Locations((-9.75, 0)):
            Circle(SKETCH1_4_R, mode=Mode.SUBTRACT)
        with Locations((0.25, 0)):
            Circle(SKETCH1_4_R, mode=Mode.SUBTRACT)
        with Locations((10.25, 0)):
            Circle(SKETCH1_4_R, mode=Mode.SUBTRACT)
        with Locations((20.25, 0)):
            Circle(SKETCH1_4_R, mode=Mode.SUBTRACT)
        with Locations((30.25, 0)):
            Circle(SKETCH1_4_R, mode=Mode.SUBTRACT)
        with Locations((40.25, 0)):
            Circle(SKETCH1_4_R, mode=Mode.SUBTRACT)
        with Locations((50.25, 0)):
            Circle(SKETCH1_4_R, mode=Mode.SUBTRACT)
        with Locations((-72.75, 0)):
            Circle(SKETCH1_4_R_2, mode=Mode.SUBTRACT)
        with Locations((-80.25, 7.5)):
            Circle(SKETCH1_4_R, mode=Mode.SUBTRACT)
        with Locations((-65.25, 7.5)):
            Circle(SKETCH1_4_R, mode=Mode.SUBTRACT)
        with Locations((50.25, 50)):
            Circle(SKETCH1_4_R, mode=Mode.SUBTRACT)
        with Locations((-39.75, 50)):
            Circle(SKETCH1_4_R, mode=Mode.SUBTRACT)
        with Locations((-29.75, 50)):
            Circle(SKETCH1_4_R, mode=Mode.SUBTRACT)
        with Locations((-19.75, 50)):
            Circle(SKETCH1_4_R, mode=Mode.SUBTRACT)
        with Locations((-9.75, 50)):
            Circle(SKETCH1_4_R, mode=Mode.SUBTRACT)
        with Locations((0.25, 50)):
            Circle(SKETCH1_4_R, mode=Mode.SUBTRACT)
        with Locations((10.25, 50)):
            Circle(SKETCH1_4_R, mode=Mode.SUBTRACT)
        with Locations((20.25, 50)):
            Circle(SKETCH1_4_R, mode=Mode.SUBTRACT)
        with Locations((30.25, 50)):
            Circle(SKETCH1_4_R, mode=Mode.SUBTRACT)
        with Locations((40.25, 50)):
            Circle(SKETCH1_4_R, mode=Mode.SUBTRACT)
        with Locations((50.25, -50)):
            Circle(SKETCH1_4_R, mode=Mode.SUBTRACT)
        with Locations((30.25, -50)):
            Circle(SKETCH1_4_R, mode=Mode.SUBTRACT)
        with Locations((40.25, -50)):
            Circle(SKETCH1_4_R, mode=Mode.SUBTRACT)
        with Locations((-39.75, -50)):
            Circle(SKETCH1_4_R, mode=Mode.SUBTRACT)
        with Locations((-29.75, -50)):
            Circle(SKETCH1_4_R, mode=Mode.SUBTRACT)
        with Locations((-19.75, -50)):
            Circle(SKETCH1_4_R, mode=Mode.SUBTRACT)
        with Locations((-9.75, -50)):
            Circle(SKETCH1_4_R, mode=Mode.SUBTRACT)
        with Locations((0.25, -50)):
            Circle(SKETCH1_4_R, mode=Mode.SUBTRACT)
        with Locations((10.25, -50)):
            Circle(SKETCH1_4_R, mode=Mode.SUBTRACT)
        with Locations((20.25, -50)):
            Circle(SKETCH1_4_R, mode=Mode.SUBTRACT)
    extrude(amount=-BOSS_EXTRUDE2_DEPTH)

    # Fillet1
    fillet1_edges = [part.edges().sort_by_distance(p)[0] for p in [
        (-84.75, 0, -12.5),
        (-84.75, 0, 12.5),
    ]]
    fillet(fillet1_edges, radius=FILLET1_R)

    # Fillet2
    fillet2_edges = [part.edges().sort_by_distance(p)[0] for p in [
        (26.519437248, 0, 12.5),
        (6.519437248, 0, 12.5),
        (26.519437248, 0, -12.5),
        (6.519437248, 0, -12.5),
        (-67.174137787, 0, -12.5),
        (-67.174137787, 0, 12.5),
        (-36.863248654, 0, 45),
        (-16.863248654, 0, 45),
        (49.90212315, 0, 45),
        (49.90212315, 0, -45),
        (-16.863248654, 0, -45),
        (-36.863248654, 0, -45),
    ]]
    fillet(fillet2_edges, radius=FILLET2_R)

    # Fillet3
    fillet3_edges = [part.edges().sort_by_distance(p)[0] for p in [
        (-55.627132403, 0, -12.5),
        (-12.244446501, 0, -45),
        (45.283320997, 0, -45),
        (31.138239402, 0, -12.5),
        (1.900635095, 0, -12.5),
        (-55.627132403, 0, 12.5),
        (-12.244446501, 0, 45),
        (45.283320997, 0, 45),
        (31.138239402, 0, 12.5),
        (1.900635095, 0, 12.5),
    ]]
    fillet(fillet3_edges, radius=FILLET3_R)

    # Fillet4
    fillet4_edges = [part.edges().sort_by_distance(p)[0] for p in [
        (-42.636751346, 0, 55),
        (-42.636751346, 0, -55),
    ]]
    fillet(fillet4_edges, radius=FILLET4_R)


solid = part.part
